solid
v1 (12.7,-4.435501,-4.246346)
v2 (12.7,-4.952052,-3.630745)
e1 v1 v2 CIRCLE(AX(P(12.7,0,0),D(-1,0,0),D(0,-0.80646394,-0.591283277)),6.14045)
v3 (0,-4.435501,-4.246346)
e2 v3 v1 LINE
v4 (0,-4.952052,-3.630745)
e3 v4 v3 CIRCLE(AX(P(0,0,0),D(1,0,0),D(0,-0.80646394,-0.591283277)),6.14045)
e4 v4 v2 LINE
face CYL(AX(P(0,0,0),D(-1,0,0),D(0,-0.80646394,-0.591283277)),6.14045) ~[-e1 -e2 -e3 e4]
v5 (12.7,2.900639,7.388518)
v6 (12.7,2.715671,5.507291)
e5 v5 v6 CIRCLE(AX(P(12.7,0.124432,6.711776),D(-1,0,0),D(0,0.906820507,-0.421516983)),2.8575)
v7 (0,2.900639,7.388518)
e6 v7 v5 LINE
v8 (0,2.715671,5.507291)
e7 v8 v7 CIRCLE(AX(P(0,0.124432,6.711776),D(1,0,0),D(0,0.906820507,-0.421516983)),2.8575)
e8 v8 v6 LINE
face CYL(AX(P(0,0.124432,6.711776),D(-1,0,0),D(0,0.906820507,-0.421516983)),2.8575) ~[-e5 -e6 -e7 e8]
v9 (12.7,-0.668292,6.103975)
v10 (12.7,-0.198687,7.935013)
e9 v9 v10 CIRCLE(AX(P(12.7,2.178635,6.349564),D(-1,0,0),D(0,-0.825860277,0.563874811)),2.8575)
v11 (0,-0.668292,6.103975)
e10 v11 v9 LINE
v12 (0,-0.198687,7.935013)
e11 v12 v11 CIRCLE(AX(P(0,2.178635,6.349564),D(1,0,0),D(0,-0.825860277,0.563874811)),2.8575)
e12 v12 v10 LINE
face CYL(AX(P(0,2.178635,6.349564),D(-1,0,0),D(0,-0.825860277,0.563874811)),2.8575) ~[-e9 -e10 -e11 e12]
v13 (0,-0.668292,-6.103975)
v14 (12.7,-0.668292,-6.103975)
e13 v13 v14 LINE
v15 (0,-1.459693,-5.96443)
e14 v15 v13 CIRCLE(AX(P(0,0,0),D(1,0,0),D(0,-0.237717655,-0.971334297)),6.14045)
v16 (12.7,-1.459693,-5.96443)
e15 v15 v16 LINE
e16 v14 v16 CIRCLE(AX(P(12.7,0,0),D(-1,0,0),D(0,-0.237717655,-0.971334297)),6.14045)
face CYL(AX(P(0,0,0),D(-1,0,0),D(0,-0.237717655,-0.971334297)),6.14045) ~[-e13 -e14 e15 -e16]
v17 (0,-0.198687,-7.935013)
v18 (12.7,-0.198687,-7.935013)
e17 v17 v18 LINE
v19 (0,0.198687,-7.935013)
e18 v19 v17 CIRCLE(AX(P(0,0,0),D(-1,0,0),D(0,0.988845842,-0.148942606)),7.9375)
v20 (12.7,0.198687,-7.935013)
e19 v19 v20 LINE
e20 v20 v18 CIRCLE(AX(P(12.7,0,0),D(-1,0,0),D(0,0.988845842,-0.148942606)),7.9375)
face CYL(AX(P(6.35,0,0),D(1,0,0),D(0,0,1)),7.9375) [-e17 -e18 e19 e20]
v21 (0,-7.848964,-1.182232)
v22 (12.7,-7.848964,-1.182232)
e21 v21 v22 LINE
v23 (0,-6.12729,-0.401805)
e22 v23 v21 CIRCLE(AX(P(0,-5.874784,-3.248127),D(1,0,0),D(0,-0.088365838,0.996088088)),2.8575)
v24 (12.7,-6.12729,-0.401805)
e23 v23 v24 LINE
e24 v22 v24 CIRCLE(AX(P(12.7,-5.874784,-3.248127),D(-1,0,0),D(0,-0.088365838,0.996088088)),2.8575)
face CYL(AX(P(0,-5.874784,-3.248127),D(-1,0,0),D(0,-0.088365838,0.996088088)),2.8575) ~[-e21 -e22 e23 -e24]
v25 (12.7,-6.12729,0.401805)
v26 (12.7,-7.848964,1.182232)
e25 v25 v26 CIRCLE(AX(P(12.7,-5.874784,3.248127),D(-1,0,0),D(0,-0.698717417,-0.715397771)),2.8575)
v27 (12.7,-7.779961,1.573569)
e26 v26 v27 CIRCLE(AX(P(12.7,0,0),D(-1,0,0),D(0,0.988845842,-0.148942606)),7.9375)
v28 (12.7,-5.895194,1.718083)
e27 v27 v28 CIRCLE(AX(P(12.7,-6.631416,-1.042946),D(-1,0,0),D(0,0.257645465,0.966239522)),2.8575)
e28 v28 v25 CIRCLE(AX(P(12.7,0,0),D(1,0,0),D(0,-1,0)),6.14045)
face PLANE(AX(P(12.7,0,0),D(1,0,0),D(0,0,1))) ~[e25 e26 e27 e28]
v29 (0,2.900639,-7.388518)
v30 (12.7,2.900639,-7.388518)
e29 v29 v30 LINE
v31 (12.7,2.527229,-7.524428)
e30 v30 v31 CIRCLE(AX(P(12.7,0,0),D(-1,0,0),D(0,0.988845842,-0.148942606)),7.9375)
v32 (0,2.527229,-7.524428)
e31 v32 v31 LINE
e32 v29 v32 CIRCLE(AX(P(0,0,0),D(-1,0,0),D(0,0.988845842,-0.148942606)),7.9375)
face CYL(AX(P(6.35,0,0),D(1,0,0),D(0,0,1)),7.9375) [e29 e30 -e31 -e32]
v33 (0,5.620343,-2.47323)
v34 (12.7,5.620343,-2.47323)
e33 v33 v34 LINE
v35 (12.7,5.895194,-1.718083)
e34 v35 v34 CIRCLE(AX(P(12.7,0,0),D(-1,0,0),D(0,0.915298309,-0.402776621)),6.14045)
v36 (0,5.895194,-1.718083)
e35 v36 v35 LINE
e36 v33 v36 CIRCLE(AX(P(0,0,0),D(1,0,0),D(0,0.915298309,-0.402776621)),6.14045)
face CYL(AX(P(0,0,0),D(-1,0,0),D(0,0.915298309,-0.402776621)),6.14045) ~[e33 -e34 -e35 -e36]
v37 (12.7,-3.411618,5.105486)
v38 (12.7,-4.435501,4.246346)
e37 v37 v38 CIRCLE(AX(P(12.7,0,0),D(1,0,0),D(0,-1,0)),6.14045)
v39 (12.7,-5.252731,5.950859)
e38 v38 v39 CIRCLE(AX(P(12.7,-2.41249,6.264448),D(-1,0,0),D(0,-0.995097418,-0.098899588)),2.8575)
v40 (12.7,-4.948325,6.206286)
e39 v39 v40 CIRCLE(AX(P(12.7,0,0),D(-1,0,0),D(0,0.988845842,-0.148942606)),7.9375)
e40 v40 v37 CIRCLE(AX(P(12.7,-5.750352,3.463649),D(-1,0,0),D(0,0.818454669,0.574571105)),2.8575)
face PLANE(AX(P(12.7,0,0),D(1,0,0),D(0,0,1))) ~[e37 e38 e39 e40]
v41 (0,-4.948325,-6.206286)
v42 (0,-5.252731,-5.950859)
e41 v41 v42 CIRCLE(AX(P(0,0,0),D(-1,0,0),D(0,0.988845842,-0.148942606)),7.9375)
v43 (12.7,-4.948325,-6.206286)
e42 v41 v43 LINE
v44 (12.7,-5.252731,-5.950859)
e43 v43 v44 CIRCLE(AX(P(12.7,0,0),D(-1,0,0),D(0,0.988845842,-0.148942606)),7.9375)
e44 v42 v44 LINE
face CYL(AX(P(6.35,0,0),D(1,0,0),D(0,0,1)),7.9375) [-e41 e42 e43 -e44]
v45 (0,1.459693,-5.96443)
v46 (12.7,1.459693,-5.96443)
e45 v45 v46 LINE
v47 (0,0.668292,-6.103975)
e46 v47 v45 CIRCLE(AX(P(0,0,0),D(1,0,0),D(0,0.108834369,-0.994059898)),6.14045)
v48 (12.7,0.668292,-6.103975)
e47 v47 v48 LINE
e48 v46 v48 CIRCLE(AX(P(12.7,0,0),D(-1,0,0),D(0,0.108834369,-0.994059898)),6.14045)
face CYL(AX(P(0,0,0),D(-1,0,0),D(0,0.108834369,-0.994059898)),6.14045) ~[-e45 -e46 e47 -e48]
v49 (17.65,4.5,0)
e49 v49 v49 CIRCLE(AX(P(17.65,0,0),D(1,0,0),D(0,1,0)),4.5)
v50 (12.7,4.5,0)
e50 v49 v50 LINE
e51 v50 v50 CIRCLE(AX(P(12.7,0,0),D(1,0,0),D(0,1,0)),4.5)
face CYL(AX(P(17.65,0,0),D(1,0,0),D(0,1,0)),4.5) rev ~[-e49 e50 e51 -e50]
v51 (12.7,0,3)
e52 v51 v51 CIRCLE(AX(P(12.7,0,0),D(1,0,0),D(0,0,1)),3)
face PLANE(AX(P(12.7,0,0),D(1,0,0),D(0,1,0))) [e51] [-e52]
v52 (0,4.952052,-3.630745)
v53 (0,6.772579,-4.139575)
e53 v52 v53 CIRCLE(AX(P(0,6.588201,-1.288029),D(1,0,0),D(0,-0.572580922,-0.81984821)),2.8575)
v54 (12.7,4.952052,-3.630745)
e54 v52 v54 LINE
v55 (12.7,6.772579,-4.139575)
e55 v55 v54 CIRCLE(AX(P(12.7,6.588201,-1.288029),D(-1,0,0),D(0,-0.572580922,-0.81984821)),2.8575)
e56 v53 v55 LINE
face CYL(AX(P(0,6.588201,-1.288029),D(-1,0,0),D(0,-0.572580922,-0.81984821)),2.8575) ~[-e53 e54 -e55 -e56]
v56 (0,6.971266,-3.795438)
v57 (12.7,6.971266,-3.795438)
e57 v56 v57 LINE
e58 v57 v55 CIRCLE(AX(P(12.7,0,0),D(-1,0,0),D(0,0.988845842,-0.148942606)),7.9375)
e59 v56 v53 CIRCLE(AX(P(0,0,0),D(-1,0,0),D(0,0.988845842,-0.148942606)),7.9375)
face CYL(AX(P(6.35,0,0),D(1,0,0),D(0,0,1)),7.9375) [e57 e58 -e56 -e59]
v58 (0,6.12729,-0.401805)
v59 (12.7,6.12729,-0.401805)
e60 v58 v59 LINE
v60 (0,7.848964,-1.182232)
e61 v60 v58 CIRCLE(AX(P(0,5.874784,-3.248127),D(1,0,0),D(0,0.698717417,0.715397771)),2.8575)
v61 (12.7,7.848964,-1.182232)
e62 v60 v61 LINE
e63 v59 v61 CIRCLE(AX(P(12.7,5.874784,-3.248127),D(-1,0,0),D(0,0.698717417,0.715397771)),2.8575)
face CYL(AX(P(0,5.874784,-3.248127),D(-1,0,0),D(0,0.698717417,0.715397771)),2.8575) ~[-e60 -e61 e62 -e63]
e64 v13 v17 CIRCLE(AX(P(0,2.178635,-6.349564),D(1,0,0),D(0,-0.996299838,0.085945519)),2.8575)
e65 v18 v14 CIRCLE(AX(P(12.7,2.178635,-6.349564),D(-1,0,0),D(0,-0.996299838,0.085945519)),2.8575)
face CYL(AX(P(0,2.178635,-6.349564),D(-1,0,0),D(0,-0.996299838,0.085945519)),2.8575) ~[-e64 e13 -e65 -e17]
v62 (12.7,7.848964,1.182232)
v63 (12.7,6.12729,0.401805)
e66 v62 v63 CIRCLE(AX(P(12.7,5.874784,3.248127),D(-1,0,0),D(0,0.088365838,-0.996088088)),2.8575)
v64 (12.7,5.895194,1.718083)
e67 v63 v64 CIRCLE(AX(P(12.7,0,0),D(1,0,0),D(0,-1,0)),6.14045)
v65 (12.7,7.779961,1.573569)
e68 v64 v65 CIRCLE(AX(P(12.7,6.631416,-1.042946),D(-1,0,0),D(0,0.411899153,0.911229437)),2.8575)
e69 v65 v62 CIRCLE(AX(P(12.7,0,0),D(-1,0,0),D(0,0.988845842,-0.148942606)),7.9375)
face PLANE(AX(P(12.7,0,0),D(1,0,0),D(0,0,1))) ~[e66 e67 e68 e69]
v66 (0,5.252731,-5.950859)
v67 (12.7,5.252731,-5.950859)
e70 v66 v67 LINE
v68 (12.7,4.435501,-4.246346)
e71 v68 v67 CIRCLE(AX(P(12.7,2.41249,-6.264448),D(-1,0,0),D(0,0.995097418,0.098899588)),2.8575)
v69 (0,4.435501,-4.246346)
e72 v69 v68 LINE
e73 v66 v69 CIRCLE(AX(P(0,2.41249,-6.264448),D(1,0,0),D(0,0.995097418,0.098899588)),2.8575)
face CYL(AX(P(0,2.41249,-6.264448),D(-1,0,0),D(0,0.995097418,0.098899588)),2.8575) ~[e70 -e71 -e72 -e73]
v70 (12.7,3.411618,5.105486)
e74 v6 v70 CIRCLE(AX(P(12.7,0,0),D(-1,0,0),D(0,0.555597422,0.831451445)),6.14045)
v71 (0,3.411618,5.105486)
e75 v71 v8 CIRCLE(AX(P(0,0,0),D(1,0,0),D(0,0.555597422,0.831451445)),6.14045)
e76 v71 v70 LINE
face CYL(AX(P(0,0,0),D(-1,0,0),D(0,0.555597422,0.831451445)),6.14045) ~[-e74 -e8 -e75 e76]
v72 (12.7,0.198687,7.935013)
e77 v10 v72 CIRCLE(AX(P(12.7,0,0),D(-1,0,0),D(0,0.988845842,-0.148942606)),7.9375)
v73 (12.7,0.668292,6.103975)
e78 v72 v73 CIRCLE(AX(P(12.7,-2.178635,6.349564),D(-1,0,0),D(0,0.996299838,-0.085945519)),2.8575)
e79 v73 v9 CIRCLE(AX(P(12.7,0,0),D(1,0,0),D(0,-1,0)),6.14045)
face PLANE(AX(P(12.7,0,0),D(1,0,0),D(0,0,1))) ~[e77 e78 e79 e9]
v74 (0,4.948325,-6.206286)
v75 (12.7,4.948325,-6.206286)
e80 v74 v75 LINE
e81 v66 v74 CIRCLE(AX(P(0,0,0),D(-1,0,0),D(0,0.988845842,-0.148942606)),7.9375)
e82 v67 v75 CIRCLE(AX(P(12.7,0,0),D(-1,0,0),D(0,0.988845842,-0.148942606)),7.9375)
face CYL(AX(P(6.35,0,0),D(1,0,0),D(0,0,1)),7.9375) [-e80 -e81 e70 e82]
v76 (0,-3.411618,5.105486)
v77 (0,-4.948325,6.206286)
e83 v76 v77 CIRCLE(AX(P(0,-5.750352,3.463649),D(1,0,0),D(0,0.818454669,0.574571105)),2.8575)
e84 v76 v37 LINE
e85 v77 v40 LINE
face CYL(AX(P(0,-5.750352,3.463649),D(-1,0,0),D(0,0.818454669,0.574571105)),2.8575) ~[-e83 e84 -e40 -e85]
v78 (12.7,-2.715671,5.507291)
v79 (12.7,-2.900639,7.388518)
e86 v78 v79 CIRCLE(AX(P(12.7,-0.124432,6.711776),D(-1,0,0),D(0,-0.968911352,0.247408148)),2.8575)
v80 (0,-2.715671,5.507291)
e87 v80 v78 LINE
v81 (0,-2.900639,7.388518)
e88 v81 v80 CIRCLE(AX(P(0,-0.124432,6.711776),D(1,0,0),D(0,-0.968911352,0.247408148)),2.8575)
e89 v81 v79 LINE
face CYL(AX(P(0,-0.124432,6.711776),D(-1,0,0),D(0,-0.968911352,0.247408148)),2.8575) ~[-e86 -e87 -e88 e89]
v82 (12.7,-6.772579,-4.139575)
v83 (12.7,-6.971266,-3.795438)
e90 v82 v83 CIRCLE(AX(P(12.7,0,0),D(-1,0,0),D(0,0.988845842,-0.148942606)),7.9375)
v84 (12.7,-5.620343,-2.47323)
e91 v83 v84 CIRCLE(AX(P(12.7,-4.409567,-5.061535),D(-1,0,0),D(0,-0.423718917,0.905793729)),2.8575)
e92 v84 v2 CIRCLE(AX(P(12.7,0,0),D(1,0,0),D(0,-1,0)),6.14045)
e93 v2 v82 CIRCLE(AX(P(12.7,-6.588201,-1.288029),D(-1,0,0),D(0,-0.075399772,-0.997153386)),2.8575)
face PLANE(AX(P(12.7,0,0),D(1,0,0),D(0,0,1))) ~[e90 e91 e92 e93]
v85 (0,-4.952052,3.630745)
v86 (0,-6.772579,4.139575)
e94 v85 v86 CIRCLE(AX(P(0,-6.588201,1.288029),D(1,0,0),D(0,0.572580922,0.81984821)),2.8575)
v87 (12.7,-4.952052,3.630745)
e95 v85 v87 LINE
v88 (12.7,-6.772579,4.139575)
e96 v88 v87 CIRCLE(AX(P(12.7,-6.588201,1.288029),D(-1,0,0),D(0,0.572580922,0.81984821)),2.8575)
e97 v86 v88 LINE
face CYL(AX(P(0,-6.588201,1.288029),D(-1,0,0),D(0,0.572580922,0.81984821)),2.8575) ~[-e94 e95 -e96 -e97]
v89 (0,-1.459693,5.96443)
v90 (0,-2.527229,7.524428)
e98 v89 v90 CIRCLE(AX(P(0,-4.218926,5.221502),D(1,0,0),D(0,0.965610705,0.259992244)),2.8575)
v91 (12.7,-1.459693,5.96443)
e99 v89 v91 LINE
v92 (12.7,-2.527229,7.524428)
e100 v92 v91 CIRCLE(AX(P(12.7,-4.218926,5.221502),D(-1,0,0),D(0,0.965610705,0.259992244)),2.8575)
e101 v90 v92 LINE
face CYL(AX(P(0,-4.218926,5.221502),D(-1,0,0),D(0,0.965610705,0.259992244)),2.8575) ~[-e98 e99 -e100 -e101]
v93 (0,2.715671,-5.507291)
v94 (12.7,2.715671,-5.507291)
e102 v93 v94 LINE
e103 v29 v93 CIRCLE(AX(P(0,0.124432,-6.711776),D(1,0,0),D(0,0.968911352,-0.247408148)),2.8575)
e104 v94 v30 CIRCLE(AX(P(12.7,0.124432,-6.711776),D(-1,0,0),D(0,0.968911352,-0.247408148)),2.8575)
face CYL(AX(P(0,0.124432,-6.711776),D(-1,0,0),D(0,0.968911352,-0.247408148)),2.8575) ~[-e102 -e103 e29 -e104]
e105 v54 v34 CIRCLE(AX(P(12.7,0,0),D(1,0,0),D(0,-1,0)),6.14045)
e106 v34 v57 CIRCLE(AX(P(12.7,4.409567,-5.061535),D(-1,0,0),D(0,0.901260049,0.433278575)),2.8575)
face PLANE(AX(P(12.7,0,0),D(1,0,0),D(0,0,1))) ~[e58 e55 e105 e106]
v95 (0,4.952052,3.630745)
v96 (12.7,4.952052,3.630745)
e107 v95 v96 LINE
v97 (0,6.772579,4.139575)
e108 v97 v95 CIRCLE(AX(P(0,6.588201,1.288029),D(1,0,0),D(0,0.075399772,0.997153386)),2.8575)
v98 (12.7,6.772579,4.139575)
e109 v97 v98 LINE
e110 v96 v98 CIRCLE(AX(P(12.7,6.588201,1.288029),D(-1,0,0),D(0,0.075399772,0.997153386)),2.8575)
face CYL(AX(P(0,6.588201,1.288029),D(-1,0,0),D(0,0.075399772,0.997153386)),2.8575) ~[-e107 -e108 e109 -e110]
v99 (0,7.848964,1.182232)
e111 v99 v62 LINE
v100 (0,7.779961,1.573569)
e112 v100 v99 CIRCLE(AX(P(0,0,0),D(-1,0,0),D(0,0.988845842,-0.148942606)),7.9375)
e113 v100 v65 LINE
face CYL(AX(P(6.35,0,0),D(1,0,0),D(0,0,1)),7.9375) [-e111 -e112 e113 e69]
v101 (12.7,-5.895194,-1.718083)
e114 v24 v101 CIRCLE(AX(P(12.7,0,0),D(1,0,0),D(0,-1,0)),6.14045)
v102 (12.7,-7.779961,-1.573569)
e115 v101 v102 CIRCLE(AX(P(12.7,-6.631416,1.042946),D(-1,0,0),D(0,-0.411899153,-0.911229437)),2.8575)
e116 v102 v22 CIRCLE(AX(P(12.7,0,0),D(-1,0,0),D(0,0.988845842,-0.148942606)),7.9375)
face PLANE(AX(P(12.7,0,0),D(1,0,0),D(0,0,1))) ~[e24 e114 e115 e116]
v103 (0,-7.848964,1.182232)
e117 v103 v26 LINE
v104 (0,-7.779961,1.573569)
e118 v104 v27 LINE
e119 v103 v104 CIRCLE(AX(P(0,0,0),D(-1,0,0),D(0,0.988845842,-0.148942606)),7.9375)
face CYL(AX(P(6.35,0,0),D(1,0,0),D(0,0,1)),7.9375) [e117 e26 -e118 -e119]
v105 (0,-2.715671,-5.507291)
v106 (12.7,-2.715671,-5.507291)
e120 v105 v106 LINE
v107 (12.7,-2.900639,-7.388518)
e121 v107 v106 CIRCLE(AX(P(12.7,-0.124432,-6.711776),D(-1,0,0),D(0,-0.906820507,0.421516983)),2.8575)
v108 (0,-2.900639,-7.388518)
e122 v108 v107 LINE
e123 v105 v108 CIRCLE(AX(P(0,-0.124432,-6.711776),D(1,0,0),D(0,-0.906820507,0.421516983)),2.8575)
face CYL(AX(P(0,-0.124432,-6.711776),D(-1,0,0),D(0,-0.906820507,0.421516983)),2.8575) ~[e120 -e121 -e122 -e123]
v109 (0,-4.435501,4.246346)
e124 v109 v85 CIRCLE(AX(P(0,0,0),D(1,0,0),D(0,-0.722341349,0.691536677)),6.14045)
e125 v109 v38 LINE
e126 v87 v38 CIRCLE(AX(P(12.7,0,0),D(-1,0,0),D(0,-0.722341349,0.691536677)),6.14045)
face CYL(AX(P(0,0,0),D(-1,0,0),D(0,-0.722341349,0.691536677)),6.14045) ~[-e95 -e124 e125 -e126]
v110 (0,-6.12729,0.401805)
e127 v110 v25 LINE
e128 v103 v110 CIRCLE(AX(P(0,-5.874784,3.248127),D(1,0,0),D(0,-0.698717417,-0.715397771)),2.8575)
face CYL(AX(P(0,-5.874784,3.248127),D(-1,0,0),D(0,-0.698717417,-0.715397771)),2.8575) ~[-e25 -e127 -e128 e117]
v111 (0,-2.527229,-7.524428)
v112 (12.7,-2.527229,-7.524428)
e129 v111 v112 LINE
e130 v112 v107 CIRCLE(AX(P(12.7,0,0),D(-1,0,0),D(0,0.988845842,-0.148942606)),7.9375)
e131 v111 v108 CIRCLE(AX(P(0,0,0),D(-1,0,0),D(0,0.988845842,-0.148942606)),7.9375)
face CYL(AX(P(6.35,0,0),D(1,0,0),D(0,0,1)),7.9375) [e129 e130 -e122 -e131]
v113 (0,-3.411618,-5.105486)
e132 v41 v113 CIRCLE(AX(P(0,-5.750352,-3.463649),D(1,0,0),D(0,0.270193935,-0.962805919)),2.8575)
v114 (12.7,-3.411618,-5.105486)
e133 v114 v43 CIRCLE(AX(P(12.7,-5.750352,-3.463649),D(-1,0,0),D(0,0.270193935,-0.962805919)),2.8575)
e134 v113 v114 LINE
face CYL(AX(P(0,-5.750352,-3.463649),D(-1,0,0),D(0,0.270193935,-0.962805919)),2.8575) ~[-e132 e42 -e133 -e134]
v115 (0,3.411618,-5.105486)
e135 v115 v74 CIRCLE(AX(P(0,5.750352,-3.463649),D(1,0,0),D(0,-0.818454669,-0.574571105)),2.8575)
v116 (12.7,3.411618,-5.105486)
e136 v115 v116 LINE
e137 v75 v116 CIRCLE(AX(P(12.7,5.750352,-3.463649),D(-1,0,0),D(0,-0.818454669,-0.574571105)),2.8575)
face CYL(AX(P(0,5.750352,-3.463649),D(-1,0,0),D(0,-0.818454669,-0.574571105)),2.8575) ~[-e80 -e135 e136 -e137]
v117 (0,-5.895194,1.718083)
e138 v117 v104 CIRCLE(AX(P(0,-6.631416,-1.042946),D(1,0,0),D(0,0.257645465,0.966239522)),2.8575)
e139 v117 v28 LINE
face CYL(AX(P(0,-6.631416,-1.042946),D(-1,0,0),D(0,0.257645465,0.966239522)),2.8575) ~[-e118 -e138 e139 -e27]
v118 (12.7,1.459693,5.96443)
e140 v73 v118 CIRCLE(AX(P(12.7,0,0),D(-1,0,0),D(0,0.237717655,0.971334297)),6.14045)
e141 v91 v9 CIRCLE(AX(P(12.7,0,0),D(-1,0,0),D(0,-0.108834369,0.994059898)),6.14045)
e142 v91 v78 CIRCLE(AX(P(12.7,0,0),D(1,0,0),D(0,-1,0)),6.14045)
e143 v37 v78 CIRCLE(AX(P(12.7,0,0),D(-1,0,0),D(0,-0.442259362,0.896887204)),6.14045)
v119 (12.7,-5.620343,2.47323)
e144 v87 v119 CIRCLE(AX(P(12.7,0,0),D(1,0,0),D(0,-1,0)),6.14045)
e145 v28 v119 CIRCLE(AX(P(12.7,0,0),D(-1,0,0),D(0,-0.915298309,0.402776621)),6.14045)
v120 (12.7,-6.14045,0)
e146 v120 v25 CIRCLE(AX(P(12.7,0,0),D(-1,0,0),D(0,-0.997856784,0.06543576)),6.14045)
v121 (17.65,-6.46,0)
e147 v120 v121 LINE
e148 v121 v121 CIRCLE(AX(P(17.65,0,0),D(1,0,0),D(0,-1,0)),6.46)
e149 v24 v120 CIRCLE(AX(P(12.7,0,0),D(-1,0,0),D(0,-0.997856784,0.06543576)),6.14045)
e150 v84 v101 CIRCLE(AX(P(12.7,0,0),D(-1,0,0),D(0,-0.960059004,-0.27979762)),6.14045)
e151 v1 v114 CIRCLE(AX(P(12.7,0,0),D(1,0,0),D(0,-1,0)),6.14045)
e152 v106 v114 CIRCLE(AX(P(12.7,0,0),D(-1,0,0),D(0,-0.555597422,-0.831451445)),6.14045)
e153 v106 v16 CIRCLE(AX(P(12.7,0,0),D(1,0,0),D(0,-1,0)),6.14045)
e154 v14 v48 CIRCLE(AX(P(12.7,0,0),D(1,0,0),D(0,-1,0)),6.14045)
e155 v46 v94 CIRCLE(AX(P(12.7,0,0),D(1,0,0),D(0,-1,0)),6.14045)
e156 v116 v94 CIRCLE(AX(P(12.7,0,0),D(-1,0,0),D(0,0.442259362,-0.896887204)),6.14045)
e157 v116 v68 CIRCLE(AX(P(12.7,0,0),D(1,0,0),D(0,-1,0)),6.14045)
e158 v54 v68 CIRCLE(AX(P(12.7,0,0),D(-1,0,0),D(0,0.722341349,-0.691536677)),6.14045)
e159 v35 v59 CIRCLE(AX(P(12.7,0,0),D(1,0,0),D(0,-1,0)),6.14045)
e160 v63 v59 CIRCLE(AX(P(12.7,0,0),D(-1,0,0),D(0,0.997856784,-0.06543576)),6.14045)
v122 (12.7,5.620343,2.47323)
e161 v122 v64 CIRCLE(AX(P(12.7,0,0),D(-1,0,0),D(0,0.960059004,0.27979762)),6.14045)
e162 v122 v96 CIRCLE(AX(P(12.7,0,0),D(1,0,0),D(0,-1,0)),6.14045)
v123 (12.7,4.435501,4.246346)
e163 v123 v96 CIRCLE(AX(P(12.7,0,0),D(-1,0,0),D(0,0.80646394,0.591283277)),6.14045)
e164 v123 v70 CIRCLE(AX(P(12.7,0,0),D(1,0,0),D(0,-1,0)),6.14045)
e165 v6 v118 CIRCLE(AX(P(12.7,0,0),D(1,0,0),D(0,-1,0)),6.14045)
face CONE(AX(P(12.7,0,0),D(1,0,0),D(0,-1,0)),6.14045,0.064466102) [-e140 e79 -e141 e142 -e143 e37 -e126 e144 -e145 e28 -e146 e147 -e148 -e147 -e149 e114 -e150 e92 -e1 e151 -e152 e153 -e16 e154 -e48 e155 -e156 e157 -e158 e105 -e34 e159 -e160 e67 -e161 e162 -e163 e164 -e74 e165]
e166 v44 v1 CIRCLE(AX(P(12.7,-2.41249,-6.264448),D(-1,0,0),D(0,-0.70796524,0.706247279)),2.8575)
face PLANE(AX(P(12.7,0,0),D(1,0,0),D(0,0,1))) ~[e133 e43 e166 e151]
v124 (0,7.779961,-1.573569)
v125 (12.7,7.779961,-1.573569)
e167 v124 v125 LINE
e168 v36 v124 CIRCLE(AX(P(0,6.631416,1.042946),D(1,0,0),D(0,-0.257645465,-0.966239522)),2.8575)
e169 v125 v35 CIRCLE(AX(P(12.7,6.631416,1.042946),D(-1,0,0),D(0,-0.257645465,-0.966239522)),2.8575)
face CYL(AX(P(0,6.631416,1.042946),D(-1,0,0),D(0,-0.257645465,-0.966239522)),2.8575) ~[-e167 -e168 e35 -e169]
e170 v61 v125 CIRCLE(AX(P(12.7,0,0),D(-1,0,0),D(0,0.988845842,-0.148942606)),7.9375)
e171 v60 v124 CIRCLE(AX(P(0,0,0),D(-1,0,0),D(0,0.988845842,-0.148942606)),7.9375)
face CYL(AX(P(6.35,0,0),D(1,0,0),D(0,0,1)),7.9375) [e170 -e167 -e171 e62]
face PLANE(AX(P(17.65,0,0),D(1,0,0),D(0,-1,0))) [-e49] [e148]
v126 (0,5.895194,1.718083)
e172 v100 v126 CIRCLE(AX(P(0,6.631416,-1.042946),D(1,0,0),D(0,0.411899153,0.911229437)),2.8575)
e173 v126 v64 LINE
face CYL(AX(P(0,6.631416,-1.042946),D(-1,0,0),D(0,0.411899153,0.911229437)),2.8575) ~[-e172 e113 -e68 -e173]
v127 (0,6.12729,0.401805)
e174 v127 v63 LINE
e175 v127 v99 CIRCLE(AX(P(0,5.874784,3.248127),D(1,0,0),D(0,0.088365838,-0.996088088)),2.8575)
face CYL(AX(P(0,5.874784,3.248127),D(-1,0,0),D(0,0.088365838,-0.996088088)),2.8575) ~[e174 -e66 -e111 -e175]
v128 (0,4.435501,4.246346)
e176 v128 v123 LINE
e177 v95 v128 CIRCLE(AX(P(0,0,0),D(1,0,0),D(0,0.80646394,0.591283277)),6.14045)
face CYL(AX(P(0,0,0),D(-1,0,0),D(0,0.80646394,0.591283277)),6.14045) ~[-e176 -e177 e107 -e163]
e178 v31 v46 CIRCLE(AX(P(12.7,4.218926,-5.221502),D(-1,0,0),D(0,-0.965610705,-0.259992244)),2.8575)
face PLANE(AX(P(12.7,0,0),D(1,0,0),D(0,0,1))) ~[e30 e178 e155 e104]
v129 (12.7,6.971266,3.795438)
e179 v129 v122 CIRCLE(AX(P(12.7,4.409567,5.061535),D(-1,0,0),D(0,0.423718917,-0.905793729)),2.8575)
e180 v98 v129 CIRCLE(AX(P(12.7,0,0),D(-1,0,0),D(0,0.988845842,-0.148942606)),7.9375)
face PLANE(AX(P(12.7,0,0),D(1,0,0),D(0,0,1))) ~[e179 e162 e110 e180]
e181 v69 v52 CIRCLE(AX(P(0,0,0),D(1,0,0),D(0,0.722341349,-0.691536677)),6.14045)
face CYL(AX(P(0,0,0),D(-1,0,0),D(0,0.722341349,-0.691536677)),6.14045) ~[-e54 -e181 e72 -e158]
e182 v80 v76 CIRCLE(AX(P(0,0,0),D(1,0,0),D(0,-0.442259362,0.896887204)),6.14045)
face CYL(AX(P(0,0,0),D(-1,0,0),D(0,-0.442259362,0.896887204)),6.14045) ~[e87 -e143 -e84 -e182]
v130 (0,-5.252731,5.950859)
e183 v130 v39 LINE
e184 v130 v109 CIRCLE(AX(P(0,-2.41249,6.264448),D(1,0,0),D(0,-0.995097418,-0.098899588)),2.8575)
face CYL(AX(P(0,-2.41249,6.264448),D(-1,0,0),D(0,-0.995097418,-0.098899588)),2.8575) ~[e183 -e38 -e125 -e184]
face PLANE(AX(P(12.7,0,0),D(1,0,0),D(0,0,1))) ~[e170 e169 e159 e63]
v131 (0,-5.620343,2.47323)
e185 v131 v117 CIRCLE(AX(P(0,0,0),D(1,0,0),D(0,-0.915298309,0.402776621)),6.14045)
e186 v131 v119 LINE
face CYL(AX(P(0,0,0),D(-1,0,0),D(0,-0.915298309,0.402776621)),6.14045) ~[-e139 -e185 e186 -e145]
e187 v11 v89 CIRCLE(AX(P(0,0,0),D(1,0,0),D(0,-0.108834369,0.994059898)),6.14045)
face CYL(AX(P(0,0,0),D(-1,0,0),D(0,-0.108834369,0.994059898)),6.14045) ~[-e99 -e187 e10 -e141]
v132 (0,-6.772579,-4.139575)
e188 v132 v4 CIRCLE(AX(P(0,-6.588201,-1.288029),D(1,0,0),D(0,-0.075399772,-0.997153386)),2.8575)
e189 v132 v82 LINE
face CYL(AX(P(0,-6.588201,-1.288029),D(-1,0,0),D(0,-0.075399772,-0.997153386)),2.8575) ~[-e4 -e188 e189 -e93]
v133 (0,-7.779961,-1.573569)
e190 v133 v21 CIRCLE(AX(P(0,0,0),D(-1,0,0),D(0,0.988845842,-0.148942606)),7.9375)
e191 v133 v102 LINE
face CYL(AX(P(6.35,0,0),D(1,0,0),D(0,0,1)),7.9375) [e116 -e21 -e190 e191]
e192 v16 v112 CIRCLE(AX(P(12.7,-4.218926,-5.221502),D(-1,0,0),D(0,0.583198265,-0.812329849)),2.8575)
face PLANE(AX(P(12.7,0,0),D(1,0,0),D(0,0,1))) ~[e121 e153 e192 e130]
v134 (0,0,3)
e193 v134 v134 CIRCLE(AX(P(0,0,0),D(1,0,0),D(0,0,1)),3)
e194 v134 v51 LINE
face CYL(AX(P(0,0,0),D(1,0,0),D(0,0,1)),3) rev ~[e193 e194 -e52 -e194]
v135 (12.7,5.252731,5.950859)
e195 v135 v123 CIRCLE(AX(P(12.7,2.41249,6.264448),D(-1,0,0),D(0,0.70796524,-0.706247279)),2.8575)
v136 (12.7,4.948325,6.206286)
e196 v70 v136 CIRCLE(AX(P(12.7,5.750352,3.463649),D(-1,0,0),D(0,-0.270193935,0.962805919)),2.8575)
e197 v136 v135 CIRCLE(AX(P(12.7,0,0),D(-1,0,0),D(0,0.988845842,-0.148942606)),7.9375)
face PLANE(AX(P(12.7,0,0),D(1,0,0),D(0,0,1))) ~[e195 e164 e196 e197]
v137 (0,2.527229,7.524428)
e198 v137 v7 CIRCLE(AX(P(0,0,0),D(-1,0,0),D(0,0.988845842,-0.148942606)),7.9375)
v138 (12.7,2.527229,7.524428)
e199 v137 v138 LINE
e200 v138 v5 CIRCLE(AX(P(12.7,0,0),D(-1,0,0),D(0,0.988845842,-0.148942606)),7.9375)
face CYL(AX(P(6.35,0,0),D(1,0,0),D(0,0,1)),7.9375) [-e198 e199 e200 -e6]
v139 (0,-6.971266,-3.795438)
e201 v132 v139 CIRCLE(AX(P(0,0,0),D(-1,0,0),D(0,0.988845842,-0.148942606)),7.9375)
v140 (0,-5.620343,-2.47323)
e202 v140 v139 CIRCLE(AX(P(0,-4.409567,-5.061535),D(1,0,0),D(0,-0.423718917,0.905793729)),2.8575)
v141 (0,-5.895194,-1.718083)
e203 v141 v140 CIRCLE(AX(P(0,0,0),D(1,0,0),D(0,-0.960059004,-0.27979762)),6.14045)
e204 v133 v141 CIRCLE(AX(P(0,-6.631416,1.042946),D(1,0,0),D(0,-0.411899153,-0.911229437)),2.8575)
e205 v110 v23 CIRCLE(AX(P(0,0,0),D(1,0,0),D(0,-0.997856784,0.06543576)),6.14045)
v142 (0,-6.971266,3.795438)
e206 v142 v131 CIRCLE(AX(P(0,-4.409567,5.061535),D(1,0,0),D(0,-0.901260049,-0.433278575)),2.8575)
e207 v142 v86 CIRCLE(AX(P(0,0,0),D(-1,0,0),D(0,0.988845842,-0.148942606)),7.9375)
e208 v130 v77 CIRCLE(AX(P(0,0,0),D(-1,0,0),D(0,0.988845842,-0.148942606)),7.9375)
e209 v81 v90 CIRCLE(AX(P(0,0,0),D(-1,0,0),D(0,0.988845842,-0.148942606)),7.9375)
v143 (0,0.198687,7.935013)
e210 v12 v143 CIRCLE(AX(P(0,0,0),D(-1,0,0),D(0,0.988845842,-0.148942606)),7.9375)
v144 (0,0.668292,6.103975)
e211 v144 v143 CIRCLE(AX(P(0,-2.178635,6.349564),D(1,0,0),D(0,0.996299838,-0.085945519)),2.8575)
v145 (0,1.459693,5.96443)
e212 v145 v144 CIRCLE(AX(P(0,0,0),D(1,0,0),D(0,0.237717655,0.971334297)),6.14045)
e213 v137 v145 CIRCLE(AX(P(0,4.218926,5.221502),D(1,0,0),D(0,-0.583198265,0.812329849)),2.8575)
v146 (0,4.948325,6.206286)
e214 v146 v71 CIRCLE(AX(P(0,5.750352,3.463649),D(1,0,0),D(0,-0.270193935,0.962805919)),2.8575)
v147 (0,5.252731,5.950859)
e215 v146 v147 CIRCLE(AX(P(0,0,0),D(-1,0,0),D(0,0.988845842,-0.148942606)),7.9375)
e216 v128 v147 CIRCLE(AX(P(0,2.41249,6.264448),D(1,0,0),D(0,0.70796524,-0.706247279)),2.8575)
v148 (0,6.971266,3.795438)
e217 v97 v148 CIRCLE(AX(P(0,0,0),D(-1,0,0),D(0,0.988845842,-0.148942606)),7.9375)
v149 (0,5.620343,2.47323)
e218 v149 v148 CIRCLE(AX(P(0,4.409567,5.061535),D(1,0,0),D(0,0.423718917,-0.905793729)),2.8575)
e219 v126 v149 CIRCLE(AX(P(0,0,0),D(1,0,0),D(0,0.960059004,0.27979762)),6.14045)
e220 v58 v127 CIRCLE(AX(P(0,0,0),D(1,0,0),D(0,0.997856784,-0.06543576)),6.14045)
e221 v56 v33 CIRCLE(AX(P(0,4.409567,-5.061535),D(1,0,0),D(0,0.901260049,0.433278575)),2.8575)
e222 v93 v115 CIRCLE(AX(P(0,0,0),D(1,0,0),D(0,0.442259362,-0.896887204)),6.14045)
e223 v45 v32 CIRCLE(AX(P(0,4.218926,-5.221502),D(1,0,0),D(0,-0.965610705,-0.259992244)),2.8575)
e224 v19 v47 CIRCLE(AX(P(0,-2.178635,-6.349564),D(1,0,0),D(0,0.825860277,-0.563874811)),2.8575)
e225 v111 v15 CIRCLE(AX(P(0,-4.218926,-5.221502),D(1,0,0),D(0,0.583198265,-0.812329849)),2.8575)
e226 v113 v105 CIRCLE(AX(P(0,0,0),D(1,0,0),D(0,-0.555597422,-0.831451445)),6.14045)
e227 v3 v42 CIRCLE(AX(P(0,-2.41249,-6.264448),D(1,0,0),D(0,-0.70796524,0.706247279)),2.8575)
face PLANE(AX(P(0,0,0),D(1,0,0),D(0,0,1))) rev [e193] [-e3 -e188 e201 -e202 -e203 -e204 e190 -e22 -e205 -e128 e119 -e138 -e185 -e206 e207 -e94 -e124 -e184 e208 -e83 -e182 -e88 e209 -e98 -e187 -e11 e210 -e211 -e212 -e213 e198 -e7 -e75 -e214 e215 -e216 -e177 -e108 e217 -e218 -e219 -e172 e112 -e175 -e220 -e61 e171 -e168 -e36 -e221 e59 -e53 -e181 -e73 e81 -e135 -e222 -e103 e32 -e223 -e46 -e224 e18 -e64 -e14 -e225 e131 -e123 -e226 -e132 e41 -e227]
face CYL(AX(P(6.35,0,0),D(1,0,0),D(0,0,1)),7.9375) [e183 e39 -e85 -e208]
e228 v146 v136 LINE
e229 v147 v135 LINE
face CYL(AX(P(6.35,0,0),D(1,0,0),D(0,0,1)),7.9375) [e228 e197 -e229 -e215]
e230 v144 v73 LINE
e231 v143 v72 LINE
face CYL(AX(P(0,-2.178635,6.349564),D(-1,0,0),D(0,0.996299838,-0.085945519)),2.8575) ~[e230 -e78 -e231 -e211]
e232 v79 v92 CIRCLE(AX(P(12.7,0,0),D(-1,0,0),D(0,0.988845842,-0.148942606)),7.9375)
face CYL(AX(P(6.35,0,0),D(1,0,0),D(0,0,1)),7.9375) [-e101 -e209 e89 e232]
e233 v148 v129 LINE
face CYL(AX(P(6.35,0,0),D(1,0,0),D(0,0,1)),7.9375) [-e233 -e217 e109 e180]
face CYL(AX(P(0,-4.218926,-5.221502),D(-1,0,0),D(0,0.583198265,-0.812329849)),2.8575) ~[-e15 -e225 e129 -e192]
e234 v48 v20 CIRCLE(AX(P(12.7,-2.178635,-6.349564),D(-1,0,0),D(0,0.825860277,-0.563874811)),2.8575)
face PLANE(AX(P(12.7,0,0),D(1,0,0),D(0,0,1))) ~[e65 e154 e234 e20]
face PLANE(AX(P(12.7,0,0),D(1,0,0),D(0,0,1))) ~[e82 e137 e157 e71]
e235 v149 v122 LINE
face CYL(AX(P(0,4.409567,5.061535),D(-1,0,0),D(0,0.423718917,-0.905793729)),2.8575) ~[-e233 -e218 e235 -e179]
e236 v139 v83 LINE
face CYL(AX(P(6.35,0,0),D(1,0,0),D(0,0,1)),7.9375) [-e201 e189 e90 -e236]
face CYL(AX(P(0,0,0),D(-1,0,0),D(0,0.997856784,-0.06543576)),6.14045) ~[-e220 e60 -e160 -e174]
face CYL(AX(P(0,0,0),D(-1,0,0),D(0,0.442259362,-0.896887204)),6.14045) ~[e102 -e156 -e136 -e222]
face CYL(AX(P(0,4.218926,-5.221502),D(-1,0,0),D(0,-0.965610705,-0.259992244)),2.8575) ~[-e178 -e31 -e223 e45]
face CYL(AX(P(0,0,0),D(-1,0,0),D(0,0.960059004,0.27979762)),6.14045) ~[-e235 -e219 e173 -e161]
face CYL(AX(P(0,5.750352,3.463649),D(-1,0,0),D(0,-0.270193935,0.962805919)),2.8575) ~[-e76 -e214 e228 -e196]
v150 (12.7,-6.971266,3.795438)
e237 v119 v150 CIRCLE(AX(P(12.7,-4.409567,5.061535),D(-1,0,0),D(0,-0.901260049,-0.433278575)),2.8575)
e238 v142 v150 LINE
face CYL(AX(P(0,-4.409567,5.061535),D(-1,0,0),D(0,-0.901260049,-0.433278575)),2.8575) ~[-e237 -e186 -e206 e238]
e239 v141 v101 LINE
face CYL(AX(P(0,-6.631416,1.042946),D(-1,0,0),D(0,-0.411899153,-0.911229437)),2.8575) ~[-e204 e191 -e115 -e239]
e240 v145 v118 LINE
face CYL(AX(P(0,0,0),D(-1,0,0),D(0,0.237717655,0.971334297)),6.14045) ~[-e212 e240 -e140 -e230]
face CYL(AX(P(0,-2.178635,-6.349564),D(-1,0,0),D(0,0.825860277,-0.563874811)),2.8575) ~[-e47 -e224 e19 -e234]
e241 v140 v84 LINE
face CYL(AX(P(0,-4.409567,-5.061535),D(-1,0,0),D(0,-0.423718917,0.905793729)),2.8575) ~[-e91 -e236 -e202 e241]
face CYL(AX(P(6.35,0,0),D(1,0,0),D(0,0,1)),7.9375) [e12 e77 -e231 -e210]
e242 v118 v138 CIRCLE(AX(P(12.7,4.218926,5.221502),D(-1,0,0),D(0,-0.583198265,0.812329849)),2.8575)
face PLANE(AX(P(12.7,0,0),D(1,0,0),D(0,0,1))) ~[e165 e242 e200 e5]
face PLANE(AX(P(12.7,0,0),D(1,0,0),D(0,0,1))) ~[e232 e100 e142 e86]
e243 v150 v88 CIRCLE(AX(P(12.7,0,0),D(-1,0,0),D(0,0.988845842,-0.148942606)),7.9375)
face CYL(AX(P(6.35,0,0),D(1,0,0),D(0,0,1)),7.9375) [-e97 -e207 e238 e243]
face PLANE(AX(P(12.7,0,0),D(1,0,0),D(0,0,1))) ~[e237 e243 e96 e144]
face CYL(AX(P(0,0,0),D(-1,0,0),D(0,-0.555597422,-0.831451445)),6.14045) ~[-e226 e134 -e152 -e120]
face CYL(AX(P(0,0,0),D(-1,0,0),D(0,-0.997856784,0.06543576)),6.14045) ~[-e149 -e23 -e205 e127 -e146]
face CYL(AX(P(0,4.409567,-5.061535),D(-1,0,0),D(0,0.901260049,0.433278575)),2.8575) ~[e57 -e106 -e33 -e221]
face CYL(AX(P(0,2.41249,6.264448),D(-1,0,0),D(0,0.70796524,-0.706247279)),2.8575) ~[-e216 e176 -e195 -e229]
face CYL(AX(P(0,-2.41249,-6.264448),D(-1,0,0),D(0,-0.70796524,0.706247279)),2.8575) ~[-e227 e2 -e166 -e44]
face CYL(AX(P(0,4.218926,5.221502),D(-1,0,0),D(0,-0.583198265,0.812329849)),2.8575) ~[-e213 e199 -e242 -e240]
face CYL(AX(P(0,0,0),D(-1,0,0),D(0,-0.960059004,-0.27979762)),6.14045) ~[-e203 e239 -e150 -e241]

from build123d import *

# Parameters (mm, degrees)
BASPROSKE_W        = 12.7
BASPROSKE_H        = 7.9375
TOOTHCUT_DEPTH     = 17.949861725
TEETHCUTS_COUNT    = 18
TEETHCUTS_ANGLE    = 340
BORSKE_R           = 3
BORE_DEPTH         = 50.8000508
SKETCH2_R          = 4.5
CUT_EXTRUDE1_DEPTH = 4.95


with BuildPart() as part:
    # BasProSke → Base-Revolve (revolve)
    with BuildSketch(Plane(origin=(0, 0, 0), x_dir=(1, 0, 0), z_dir=(0, 1, 0)), mode=Mode.PRIVATE) as base_revolve_sk:
        with Locations((6.35, 3.96875)):
            Rectangle(BASPROSKE_W, BASPROSKE_H)
    revolve(base_revolve_sk.sketch.rotate(Axis((-10, 0, 0), (1, 0, 0)), 180), axis=Axis((-10, 0, 0), (1, 0, 0)))

    # TooCutSke → ToothCut (cut, through all)
    with BuildSketch(Plane(origin=(0, 0, 0), x_dir=(0, 0, -1), z_dir=(1, 0, 0))):
        with BuildLine():
            ThreePointArc((0.401805019, 6.127289689), (0, 6.14045), (-0.401805019, 6.127289689))
            ThreePointArc((-0.401805019, 6.127289689), (-0.651999955, 7.068698885), (-1.203877601, 7.87136933))
            ThreePointArc((-1.203877601, 7.87136933), (0, 7.9629), (1.203877601, 7.87136933))
            ThreePointArc((1.203877601, 7.87136933), (0.651999955, 7.068698885), (0.401805019, 6.127289689))
        make_face()
    toothcut = extrude(amount=TOOTHCUT_DEPTH, mode=Mode.SUBTRACT)

    # TeethCuts: ToothCut ×18 about axis
    teethcuts_axis = Axis((-10, 0, 0), (1, 0, 0))
    for i in range(1, TEETHCUTS_COUNT):
        add(toothcut.rotate(teethcuts_axis, i * TEETHCUTS_ANGLE / (TEETHCUTS_COUNT - 1)), mode=Mode.SUBTRACT)

    # BorSke → Bore (cut, symmetric)
    with BuildSketch(Plane(origin=(0, 0, 0), x_dir=(0, 0, -1), z_dir=(1, 0, 0))):
        with Locations(Location((0, 0, 0), (0, 0, 180))):
            Circle(BORSKE_R)
    extrude(amount=BORE_DEPTH, both=True, mode=Mode.SUBTRACT)

    # Sketch1 → Revolve1 (revolve)
    with BuildSketch(Plane.XY, mode=Mode.PRIVATE) as revolve1_sk:
        Polygon((12.7, 6.14045), (17.65, 6.46), (17.65, 4.46), (12.7, 4.46), align=None)
    revolve(revolve1_sk.sketch.rotate(Axis((12.7, 0, 0), (1, 0, 0)), 180), axis=Axis((12.7, 0, 0), (1, 0, 0)))

    # Sketch2 → Cut-Extrude1 (cut)
    with BuildSketch(Plane(origin=(17.65, 0, 0), x_dir=(0, 0, -1), z_dir=(1, 0, 0))):
        with Locations(Location((0, 0, 0), (0, 0, 90))):
            Circle(SKETCH2_R)
    extrude(amount=-CUT_EXTRUDE1_DEPTH, mode=Mode.SUBTRACT)


solid = part.part
